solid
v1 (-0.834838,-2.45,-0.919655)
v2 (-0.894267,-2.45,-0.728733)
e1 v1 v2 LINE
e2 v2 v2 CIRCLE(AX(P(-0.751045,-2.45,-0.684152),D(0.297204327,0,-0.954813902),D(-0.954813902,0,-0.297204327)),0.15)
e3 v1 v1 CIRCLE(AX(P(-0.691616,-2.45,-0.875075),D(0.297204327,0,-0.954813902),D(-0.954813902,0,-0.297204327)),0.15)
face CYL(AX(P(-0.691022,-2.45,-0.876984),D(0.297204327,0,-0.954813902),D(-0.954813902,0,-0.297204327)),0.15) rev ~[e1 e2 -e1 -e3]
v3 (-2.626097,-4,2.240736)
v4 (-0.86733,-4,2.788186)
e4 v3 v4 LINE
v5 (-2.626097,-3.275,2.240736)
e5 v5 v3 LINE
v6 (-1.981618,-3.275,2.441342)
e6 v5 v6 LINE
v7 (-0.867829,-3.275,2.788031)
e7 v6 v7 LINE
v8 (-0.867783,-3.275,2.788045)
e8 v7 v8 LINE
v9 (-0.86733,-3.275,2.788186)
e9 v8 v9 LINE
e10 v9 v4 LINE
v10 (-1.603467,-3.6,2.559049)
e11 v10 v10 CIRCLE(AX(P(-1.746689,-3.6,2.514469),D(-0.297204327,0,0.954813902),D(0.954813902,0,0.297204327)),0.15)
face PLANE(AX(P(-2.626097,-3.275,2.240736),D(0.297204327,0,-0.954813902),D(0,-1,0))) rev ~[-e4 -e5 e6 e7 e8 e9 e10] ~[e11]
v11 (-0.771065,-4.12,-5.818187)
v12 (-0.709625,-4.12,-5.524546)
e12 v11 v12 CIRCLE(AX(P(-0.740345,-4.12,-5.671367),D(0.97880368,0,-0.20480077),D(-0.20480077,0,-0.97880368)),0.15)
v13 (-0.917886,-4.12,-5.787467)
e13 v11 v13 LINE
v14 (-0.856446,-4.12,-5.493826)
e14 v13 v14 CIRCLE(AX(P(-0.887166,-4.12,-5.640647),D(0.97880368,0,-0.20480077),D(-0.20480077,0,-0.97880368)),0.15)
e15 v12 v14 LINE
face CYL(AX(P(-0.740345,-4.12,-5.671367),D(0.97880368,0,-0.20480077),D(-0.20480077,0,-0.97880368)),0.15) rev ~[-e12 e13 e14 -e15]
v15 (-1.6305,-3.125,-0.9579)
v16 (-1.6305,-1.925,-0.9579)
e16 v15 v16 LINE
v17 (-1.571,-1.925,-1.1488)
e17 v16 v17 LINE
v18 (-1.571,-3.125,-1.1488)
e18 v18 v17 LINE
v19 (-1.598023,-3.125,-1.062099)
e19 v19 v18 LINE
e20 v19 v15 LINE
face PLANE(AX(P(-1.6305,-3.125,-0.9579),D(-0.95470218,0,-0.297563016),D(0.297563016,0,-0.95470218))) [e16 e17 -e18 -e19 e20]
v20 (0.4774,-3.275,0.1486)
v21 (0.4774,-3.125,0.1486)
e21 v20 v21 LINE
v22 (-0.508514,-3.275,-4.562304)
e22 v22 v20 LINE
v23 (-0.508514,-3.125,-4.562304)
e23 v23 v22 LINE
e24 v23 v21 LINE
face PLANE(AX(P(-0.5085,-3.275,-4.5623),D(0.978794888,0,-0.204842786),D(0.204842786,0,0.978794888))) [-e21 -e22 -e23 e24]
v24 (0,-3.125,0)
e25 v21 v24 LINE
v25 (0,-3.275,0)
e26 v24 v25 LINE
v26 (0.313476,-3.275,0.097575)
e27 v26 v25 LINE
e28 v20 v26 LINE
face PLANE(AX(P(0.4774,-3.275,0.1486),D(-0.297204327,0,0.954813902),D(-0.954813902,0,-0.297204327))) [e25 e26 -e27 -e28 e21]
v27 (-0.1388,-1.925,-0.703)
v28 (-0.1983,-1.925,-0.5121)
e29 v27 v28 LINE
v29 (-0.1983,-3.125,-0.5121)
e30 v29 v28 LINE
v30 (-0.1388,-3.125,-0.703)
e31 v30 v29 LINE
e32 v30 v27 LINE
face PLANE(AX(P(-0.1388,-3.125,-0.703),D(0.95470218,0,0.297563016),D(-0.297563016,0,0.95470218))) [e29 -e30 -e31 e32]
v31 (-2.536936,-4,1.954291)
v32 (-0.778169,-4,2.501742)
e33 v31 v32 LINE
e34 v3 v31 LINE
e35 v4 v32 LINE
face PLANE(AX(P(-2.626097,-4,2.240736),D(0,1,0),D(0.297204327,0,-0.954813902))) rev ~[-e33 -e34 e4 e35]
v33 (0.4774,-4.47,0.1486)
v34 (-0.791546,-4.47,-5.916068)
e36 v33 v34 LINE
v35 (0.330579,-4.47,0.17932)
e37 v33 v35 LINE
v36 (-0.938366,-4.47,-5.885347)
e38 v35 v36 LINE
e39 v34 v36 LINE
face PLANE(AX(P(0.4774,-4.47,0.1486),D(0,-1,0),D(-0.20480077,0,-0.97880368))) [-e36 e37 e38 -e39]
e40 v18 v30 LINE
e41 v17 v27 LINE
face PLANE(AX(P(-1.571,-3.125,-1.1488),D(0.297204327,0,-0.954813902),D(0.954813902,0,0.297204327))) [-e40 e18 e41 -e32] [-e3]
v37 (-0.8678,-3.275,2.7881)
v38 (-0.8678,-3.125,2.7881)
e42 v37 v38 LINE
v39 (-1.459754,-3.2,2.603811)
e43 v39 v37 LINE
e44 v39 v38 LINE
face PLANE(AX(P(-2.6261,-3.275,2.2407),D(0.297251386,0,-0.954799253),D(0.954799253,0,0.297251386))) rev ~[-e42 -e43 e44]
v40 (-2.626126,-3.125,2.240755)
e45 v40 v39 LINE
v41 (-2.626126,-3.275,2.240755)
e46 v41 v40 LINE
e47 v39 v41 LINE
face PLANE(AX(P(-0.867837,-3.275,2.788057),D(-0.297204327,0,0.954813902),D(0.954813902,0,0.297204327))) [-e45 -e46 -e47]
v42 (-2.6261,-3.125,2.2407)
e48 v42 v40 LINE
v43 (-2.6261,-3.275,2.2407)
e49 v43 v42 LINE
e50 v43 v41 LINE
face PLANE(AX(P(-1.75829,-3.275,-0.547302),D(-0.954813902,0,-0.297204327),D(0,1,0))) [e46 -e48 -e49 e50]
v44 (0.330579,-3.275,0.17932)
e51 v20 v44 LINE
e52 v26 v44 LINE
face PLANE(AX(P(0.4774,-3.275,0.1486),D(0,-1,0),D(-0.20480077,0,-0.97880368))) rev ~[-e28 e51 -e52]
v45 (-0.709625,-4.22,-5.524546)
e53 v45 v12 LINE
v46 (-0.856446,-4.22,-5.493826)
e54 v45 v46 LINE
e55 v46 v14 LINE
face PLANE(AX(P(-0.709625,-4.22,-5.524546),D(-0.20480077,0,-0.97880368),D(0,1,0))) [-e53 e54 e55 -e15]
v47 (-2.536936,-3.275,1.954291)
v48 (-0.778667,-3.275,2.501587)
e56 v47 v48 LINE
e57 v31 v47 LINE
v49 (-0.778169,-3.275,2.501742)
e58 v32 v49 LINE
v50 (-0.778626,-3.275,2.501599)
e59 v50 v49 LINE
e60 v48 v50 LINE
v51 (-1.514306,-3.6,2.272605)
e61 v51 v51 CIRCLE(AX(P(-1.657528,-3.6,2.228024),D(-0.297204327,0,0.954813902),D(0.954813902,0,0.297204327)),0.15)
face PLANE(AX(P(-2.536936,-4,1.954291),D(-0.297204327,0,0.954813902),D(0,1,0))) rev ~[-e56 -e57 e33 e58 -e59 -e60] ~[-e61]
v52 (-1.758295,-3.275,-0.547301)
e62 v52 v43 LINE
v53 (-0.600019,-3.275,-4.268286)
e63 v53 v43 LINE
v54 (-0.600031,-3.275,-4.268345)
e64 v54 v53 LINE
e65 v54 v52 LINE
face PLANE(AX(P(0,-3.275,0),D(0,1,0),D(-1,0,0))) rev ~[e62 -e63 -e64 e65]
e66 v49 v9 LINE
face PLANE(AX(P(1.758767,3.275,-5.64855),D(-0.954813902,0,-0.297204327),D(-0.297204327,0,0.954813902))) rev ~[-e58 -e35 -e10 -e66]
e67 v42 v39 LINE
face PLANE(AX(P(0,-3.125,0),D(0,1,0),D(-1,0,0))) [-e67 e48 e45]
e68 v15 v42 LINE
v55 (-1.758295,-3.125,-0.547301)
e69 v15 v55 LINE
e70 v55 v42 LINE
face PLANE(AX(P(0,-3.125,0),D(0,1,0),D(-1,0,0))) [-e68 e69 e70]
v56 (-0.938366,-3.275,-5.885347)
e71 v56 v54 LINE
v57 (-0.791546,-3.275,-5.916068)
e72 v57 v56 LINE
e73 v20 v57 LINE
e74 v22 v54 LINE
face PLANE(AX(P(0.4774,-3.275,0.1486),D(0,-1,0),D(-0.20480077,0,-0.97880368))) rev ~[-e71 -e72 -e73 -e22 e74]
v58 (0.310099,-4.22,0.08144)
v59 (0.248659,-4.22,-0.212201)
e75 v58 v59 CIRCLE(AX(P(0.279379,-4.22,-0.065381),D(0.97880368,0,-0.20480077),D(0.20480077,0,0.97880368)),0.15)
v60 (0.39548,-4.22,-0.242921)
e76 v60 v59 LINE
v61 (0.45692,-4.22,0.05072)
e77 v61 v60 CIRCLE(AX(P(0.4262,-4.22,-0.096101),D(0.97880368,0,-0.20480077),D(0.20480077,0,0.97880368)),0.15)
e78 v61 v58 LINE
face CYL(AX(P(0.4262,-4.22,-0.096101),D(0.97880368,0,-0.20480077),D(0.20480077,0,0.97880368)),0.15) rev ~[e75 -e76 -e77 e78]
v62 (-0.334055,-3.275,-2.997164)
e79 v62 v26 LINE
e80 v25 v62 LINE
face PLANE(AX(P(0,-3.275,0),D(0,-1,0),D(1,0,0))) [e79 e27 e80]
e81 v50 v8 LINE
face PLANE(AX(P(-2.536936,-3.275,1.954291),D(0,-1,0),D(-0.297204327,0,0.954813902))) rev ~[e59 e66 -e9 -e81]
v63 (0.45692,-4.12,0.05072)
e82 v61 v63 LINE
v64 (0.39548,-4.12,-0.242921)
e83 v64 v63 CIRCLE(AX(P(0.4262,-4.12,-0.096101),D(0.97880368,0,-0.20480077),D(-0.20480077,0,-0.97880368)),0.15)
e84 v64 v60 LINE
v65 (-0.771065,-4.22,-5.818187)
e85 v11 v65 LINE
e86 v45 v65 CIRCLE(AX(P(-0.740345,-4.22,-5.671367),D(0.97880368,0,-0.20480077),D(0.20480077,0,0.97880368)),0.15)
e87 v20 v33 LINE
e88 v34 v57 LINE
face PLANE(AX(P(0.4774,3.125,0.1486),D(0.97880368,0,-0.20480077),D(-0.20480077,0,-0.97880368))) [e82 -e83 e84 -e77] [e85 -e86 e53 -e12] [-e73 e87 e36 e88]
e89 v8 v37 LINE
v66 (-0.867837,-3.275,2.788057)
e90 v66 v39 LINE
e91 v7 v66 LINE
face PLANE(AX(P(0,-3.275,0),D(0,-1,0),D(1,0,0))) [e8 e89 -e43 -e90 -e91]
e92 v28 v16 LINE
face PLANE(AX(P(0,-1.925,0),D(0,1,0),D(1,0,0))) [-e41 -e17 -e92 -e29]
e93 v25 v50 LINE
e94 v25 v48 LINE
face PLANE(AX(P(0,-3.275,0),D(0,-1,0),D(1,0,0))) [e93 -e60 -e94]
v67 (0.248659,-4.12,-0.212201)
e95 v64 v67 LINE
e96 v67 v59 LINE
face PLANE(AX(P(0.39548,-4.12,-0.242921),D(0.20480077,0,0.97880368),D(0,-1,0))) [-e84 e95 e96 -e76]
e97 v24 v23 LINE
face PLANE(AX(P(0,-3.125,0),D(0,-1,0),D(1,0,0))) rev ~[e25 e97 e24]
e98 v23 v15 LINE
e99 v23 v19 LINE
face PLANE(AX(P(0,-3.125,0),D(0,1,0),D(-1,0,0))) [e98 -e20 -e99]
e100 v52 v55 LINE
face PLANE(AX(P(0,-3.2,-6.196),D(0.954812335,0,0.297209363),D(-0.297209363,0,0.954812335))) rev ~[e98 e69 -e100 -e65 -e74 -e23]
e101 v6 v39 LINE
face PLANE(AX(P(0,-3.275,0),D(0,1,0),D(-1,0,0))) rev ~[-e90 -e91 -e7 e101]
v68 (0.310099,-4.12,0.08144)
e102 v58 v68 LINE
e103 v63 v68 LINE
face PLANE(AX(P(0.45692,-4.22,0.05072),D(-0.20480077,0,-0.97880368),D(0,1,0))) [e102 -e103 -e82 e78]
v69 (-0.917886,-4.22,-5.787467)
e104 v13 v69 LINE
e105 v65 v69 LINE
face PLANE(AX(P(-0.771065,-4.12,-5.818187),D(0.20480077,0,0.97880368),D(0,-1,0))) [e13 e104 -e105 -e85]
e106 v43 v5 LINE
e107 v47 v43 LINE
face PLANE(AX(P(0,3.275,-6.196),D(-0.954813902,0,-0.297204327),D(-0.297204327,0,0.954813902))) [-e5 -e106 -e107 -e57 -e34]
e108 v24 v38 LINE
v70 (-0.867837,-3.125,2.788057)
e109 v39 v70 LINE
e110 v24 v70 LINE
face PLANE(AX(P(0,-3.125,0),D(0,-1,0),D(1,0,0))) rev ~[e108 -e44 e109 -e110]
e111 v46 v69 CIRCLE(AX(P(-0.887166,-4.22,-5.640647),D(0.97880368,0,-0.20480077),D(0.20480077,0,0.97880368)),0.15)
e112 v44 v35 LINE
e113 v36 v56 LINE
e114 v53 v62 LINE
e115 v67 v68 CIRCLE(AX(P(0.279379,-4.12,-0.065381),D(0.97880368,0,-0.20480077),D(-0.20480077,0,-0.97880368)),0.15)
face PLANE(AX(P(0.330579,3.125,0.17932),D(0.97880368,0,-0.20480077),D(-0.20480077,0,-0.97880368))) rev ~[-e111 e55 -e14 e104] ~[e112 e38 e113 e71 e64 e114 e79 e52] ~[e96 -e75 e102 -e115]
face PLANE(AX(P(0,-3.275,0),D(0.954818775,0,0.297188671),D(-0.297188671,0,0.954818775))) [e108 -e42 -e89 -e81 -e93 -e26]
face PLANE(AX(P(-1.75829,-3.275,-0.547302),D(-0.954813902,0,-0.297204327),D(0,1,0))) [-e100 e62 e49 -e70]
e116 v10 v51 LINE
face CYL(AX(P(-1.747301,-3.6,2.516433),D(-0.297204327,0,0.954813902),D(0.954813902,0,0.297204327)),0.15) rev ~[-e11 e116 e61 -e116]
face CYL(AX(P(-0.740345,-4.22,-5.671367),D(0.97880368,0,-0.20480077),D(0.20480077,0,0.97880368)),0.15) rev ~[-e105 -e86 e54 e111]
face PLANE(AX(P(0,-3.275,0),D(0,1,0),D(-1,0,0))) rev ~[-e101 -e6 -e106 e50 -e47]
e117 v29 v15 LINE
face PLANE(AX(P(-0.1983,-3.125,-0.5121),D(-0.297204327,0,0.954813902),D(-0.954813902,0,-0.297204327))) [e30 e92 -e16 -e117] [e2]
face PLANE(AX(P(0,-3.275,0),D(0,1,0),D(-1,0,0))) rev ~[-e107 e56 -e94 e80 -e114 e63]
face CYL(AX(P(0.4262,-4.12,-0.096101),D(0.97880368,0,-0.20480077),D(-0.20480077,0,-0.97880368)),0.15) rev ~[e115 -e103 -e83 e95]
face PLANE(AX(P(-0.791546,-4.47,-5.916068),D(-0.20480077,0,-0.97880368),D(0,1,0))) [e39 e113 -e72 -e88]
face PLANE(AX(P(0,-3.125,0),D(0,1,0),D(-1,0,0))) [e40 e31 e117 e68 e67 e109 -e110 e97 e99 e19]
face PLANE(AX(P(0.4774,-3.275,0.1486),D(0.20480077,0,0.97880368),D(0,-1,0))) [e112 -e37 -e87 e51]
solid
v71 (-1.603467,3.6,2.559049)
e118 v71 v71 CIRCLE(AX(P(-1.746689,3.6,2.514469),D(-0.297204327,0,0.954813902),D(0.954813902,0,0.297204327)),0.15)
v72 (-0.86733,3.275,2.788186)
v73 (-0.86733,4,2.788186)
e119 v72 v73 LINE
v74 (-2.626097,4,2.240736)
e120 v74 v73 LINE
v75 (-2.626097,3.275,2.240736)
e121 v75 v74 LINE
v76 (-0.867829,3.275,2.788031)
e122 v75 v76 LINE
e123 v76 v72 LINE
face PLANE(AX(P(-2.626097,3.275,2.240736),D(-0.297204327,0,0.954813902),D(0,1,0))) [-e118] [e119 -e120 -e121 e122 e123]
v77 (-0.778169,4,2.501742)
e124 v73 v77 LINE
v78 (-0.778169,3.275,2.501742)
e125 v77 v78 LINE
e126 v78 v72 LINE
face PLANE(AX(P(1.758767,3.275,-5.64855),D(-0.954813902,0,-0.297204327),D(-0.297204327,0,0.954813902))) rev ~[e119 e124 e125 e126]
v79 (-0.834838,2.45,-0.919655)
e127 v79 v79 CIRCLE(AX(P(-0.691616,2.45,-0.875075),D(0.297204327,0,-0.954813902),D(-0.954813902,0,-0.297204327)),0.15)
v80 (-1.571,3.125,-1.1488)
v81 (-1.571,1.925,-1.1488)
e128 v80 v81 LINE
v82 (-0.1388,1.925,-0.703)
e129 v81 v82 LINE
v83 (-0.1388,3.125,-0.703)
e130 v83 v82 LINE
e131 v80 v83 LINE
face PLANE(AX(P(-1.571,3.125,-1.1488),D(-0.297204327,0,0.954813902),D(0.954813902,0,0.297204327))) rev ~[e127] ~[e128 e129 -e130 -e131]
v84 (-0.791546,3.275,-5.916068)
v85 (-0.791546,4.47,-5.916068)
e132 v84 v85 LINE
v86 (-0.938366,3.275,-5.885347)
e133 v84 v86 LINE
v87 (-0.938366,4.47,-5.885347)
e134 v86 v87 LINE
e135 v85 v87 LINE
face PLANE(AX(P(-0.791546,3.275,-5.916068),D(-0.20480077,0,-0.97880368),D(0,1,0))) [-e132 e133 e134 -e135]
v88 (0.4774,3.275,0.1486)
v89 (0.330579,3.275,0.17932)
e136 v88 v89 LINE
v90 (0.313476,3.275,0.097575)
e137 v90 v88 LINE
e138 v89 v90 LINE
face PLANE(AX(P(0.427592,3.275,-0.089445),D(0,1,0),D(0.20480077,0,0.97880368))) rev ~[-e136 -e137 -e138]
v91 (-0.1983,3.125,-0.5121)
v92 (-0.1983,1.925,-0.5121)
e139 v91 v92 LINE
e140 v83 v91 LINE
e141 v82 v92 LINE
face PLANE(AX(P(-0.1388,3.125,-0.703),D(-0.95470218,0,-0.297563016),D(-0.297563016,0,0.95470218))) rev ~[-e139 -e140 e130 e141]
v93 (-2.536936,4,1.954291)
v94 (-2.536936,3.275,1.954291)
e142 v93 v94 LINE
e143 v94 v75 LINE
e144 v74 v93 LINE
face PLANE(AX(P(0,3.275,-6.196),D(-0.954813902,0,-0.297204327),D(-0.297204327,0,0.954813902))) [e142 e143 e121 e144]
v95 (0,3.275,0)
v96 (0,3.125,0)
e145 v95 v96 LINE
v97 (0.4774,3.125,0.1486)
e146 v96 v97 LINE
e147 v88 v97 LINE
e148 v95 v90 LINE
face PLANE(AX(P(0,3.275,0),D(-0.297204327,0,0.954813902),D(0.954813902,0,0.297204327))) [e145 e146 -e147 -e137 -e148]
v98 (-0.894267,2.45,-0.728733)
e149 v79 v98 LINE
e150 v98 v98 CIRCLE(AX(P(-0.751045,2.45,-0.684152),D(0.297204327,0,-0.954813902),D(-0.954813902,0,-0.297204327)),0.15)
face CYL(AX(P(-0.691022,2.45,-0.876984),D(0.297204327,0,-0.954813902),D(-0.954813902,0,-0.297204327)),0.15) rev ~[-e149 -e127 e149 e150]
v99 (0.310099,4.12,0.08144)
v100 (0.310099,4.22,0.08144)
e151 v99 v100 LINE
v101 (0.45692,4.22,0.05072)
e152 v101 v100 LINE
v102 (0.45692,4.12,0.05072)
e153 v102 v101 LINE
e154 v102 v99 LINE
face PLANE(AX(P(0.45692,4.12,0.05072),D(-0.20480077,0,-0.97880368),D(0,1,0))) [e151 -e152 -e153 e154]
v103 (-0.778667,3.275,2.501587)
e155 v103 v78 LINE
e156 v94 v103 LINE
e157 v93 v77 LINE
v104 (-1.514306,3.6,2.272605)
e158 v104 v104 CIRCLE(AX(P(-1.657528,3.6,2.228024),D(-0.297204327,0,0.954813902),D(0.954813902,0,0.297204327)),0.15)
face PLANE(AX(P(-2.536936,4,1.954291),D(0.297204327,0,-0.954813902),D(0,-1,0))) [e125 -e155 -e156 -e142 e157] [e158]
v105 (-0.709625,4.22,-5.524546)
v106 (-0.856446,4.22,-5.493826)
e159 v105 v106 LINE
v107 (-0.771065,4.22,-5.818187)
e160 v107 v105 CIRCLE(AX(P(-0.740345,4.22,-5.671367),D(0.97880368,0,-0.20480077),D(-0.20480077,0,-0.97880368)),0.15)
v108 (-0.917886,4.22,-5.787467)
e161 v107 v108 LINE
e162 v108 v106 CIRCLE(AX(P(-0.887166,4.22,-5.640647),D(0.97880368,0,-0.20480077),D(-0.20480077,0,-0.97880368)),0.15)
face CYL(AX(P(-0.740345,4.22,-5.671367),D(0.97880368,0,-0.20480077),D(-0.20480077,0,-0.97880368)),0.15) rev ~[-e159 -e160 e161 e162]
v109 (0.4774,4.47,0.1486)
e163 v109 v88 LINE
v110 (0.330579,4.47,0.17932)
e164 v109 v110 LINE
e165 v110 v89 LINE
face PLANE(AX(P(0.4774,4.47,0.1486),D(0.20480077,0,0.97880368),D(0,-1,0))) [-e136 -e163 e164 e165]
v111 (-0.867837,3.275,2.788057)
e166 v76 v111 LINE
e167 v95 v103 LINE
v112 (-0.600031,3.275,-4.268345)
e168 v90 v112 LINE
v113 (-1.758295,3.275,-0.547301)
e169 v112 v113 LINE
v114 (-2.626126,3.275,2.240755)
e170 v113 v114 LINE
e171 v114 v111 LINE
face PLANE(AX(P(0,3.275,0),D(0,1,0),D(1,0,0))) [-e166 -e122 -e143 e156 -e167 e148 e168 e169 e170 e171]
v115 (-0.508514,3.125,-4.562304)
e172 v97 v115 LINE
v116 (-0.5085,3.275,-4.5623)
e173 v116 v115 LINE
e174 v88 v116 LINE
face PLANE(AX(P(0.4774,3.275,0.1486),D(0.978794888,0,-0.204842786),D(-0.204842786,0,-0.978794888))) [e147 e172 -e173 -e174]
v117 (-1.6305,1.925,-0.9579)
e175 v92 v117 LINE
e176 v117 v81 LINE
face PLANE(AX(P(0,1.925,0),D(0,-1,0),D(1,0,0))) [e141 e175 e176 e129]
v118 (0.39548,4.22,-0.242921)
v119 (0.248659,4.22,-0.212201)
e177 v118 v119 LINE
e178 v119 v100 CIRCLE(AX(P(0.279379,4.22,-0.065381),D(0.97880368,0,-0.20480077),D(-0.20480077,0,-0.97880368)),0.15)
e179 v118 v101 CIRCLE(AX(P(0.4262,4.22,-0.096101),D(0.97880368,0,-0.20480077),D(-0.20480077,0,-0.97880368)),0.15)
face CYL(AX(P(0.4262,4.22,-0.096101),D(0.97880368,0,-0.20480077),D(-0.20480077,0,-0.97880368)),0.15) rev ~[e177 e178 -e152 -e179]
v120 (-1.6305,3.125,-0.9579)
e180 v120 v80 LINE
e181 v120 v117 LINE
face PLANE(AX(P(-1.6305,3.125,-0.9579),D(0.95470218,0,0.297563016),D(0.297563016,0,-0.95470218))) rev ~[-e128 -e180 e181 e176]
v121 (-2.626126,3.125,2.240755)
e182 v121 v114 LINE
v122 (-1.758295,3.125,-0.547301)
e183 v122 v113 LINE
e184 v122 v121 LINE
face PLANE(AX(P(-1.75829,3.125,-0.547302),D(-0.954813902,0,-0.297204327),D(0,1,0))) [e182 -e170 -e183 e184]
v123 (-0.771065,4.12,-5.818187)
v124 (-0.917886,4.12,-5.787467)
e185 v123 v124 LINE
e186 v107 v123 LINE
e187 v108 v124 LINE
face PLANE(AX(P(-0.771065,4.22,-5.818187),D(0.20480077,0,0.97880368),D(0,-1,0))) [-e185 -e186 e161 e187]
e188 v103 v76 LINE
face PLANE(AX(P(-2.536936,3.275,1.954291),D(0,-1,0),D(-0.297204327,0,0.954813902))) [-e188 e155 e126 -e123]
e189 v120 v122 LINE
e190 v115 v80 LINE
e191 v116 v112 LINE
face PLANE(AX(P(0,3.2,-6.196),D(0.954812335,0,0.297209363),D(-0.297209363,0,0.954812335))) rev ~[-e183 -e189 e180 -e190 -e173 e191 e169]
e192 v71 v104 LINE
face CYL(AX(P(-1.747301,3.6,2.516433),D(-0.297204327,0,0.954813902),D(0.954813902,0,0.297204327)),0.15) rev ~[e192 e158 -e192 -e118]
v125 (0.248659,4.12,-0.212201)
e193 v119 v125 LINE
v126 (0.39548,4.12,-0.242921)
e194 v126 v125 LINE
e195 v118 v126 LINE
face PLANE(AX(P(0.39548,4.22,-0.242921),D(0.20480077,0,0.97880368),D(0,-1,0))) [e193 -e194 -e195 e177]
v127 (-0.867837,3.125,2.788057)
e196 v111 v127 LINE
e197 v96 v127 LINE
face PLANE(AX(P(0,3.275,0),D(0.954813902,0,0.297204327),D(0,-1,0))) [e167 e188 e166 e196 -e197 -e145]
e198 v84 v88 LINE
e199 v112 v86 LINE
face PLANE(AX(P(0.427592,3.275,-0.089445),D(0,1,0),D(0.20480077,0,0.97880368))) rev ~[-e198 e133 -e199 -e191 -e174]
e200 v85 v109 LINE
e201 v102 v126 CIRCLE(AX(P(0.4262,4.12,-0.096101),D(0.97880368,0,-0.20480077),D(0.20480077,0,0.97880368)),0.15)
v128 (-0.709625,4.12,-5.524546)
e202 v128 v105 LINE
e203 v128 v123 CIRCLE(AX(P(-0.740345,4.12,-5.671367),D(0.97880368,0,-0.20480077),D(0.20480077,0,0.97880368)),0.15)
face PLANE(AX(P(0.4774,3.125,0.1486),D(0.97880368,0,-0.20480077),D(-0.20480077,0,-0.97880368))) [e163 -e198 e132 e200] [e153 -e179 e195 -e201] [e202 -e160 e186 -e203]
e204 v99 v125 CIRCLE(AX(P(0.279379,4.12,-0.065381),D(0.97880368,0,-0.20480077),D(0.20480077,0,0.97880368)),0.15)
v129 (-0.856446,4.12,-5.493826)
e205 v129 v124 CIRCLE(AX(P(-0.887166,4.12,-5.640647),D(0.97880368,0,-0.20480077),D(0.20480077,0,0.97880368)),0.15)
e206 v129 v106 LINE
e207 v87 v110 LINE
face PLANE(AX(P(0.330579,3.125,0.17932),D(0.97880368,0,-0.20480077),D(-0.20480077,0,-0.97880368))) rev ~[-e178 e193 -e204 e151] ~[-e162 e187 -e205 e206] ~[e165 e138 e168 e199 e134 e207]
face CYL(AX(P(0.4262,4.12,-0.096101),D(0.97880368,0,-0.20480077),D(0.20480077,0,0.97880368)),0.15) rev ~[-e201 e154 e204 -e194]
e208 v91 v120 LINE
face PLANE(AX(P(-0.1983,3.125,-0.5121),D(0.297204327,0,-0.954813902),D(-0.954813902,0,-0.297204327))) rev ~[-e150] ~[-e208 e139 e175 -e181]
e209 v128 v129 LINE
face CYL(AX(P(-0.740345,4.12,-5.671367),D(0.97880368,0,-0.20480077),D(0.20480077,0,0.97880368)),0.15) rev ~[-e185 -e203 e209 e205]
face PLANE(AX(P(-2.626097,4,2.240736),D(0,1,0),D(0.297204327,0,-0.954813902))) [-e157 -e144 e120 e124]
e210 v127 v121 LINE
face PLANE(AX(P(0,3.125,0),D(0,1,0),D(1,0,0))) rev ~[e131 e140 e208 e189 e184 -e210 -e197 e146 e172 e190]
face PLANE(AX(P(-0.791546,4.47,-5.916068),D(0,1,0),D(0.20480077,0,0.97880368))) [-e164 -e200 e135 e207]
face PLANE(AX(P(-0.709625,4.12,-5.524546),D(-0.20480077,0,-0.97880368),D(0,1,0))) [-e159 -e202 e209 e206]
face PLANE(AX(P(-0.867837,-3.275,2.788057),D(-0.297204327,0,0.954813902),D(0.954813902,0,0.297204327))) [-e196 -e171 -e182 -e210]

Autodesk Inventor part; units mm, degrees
ref_plane "Plano de trabajo1" through (0, 3.2, 0) normal (0, 1, 0) x (-1, 0, 0)
ref_plane "Plano de trabajo2" through (0, -3.2, 0) normal (0, 1, 0) x (-1, 0, 0)
sketch "Boceto3" plane through (0, 3.2, 0) normal (0, 1, 0) x (-1, 0, 0)
  line L0 (0, -6.196) -> (0, 0) projected
  line L1 (0, -6.196) -> (1.7583, -0.5473) projected
  line L2 (1.7583, -0.5473) -> (0, 0) projected
sketch "Boceto4" plane through (0, -3.2, 0) normal (0, 1, 0) x (-1, 0, 0)
  line L0 (0, -6.196) -> (0, 0) projected
  line L1 (0, -6.196) -> (1.7583, -0.5473) projected
  line L2 (1.7583, -0.5473) -> (0, 0) projected
extrude "Extrusión3" add sketch "Boceto4" along normal mid plane 0.15
extrude "Extrusión4" add sketch "Boceto3" along normal mid plane 0.15
ref_plane "Plano de trabajo3" through (0, -3.275, 0) normal (-0.2972, 0, 0.9548) x (0.9548, 0, 0.2972)
sketch "Boceto7" plane through (0, -3.275, 0) normal (-0.2972, 0, 0.9548) x (0.9548, 0, 0.2972)
  line L0 (-1.8415, 0.15) -> (0, 0.15) projected
  line L1 (-1.8415, 0) -> (-1.8415, 0.15) projected
  line L2 (0, 0) -> (-1.8415, 0) projected
  line L3 (-1.8415, 6.55) -> (0, 6.55) projected
  line L4 (-1.8415, 6.4) -> (-1.8415, 6.55) projected
  line L5 (0, 6.4) -> (-1.8415, 6.4) projected
  line L6 (0, 0.15) -> (0, 0) projected
  line L7 (0, 6.55) -> (0, 6.4) projected
  point P0 (0, 3.275)
extrude "Extrusión7" add sketch "Boceto7" along normal blind 2.92
sketch "Boceto8" plane through (0, 3.275, -6.196) normal (-0.9548, 0, -0.2972) x (-0.2972, 0, 0.9548)
  line L0 (0, -6.4) -> (8.836, -6.4) projected
  line L1 (0, -6.55) -> (8.836, -6.55) projected
  line L2 (0, 0) -> (8.836, 0) projected
  line L3 (0, -0.15) -> (8.836, -0.15) projected
  line L4 (8.836, -6.55) -> (8.836, -7.275)
  line L5 (8.836, -7.275) -> (8.536, -7.275)
  line L6 (8.536, -7.275) -> (8.536, -6.55)
  line L7 (5.916, -6.55) -> (8.836, -6.55) projected
  line L8 (8.836, -6.55) -> (8.536, -6.55)
  line L9 (8.916, -0.15) -> (8.916, 0) projected
  line L10 (8.836, 0) -> (8.836, 0.725)
  line L11 (8.836, 0.725) -> (8.536, 0.725)
  line L12 (8.536, 0.725) -> (8.536, 0)
  line L13 (8.536, 0) -> (8.836, 0)
  line L14 (0, -0.15) -> (0, 0) projected
  line L15 (0, -6.55) -> (0, -6.4) projected
  line L16 (8.836, 0) -> (8.836, -0.15) projected
  line L17 (8.836, -6.4) -> (8.836, -6.55) projected
  point P0 (5.916, -3.275)
  dimension "d19" = 0.725
  dimension "d20" = 0.3
  dimension "d21" = 0.725
  dimension "d22" = 0.3
extrude "Extrusión8" add sketch "Boceto8" against normal blind 1.842 contours L4 L5 L6 L1 | L12 L11 L10 L2
sketch "Boceto9" plane through (-0.8678, -3.275, 2.7881) normal (-0.2972, 0, 0.9548) x (0.9548, 0, 0.2972)
  line L0 (0, 0.15) -> (-1.8415, 0.15) projected
  line L1 (-1.8415, 0.15) -> (-1.8415, -0.725) projected
  line L2 (-1.8415, -0.725) -> (0.0005, -0.725) projected
  line L3 (0.0005, 0) -> (0.0005, -0.725) projected
  line L4 (0, 0) -> (0.0005, 0) projected
  line L5 (0, 6.55) -> (0.0005, 6.55) projected
  line L6 (0.0005, 7.275) -> (0.0005, 6.55) projected
  line L7 (-1.8415, 7.275) -> (0.0005, 7.275) projected
  line L8 (-1.8415, 6.4) -> (-1.8415, 7.275) projected
  line L9 (-1.8415, 6.4) -> (0, 6.4) projected
  circle A0 centre (-0.9205, -0.325) radius 0.15
  circle A1 centre (-0.9205, 6.875) radius 0.15
  line L10 (0, 6.4) -> (0, 6.55) projected
  line L11 (0, 0) -> (0, 0.15) projected
  point P0 (0, 3.275)
  dimension "d27" = 0.3
  dimension "d28" = 0.3
extrude "Extrusión9" cut sketch "Boceto9" against normal blind 1.842 contours A0 | A1
ref_plane "Plano de trabajo5" through (0, 1.925, -0.8902) normal (0.2972, 0, -0.9548) x (-0.9548, 0, -0.2972)
sketch "Boceto12" plane through (0, 1.925, -0.8902) normal (0.2972, 0, -0.9548) x (-0.9548, 0, -0.2972)
  line L0 (3.1538, -5.05) -> (3.1538, -3.85) projected
  line L1 (1.5769, -3.85) -> (3.1538, -3.85) projected
  line L2 (1.5769, -5.05) -> (1.5769, -3.85) projected
  line L3 (1.5769, 1.2) -> (1.5769, 0) projected
  line L4 (3.1538, 0) -> (1.5769, 0) projected
  line L5 (3.1538, 1.2) -> (3.1538, 0) projected
  line L6 (1.5769, -3.85) -> (3.1538, -3.85) projected
  circle A0 centre (0.6559, -5.525) radius 0.15 projected
  circle A1 centre (0.6559, 0.525) radius 0.15
  circle A2 centre (0.6559, -4.375) radius 0.15
  line L7 (3.1538, 1.2) -> (1.5769, 1.2) projected
  line L8 (1.5769, -5.05) -> (3.1538, -5.05) projected
  point P0 (-0.2646, -1.925)
  dimension "d41" = 0.3
  dimension "d42" = 0.3
extrude "Extrusión12" cut sketch "Boceto12" against normal blind 1.2 contours A1 | A2
ref_plane "Plano de trabajo4" through (-0.1783, -3.125, -0.4137) normal (-0.2972, 0, 0.9548) x (0.9548, 0, 0.2972)
sketch "Boceto13" plane through (-0.1783, -3.125, -0.4137) normal (-0.2972, 0, 0.9548) x (0.9548, 0, 0.2972)
  circle A0 centre (0.6273, -0.475) radius 0.15 projected
  circle A1 centre (0.6273, 6.725) radius 0.15 projected
  line L0 (0.6273, 6.725) -> (0.6273, -0.475)
  circle A2 centre (0.6273, 0.675) radius 0.15
  circle A3 centre (0.6273, 5.575) radius 0.15
  point P0 (-0.2932, 3.125)
  dimension "d50" = 0.3
  dimension "d51" = 0.3
extrude "Extrusión13" cut sketch "Boceto13" against normal blind 10 contours A3 L0 | L0 A3 | A2 L0 | L0 A2
sketch "Boceto14" plane through (0, 3.275, 0) normal (0, 1, 0) x (1, 0, 0)
  line L0 (-2.537, -1.9543) -> (-2.6261, -2.2407) projected
  line L1 (-2.537, -1.9543) -> (-0.3978, -2.6202)
  line L2 (0, 0) -> (2.1391, -0.6659)
  line L3 (0, 0) -> (0, 6.196) projected
  line L4 (0, 0) -> (0.4774, -0.1486)
  line L5 (0, 0) -> (-0.2806, 5.2944)
  line L6 (0, 6.196) -> (-2.6261, -2.2407) projected
  line L7 (-0.2806, 5.2944) -> (0, 6.196)
  line L8 (0, 6.196) -> (0, 0)
  line L9 (0, 0) -> (-0.7787, -2.5016) projected
  line L10 (-0.2806, 5.2944) -> (0, 0)
  line L11 (0, 0) -> (-0.3893, 4.9452)
  line L12 (-0.3893, 4.9452) -> (0, 6.196)
  line L13 (-0.2806, 5.2944) -> (-0.3893, 4.9452)
  line L14 (0, 0) -> (-0.5085, 4.5623)
  line L15 (0, 6.196) -> (-2.537, -1.9543) projected
  line L16 (-0.3893, 4.9452) -> (-0.5085, 4.5623)
  point P0 (-1.5675, 1.1603)
  dimension "d54" = 0.5
extrude "Extrusión14" cut sketch "Boceto14" against normal blind 10 contours L6 L11 L14 | L5 L6 L3 | L11 L6 L5
sketch "Boceto15" plane through (0, 3.275, 0) normal (0, 1, 0) x (1, 0, 0)
  line L0 (-0.0139, -0.0029) -> (2.134, -0.6398)
  line L1 (0, 0) -> (0.4774, -0.1486)
  line L2 (0, 0) -> (-0.7787, -2.5016)
  line L3 (0.4774, -0.1486) -> (-0.0139, -0.0029)
  line L4 (0, 0) -> (-0.7787, -2.5016) projected
  line L5 (0, 0) -> (0.4774, -0.1486)
  line L6 (0, 0) -> (-0.5085, 4.5623) projected
  line L7 (-0.5085, 4.5623) -> (0, 0) projected
  line L8 (0.4774, -0.1486) -> (-0.5085, 4.5623)
  line L9 (-0.5085, 4.5623) -> (0, 0)
  line L10 (-0.0139, -0.0029) -> (0.4774, -0.1486)
  line L11 (0.4774, -0.1486) -> (-0.5085, 4.5623)
  line L12 (-0.539, 4.708) -> (-0.0139, -0.0029)
  dimension "d57" = 0.5
extrude "Extrusión15" add sketch "Boceto15" against normal blind 0.15 contours L1 L6 L8
sketch "Boceto16" plane through (0, -3.275, 0) normal (0, -1, 0) x (1, 0, 0)
  line L0 (0, 0) -> (-0.8678, 2.7881) projected
  line L1 (-2.6261, 2.2407) -> (-0.8678, 2.7881) projected
  line L2 (-0.5085, -4.5623) -> (-2.6261, 2.2407) projected
  line L3 (-0.5085, -4.5623) -> (0.4774, 0.1486) projected
  line L4 (0.4774, 0.1486) -> (0, 0) projected
extrude "Extrusión16" add sketch "Boceto16" against normal blind 0.15
sketch "Boceto17" plane through (0, 3.125, 0) normal (0, -1, 0) x (1, 0, 0)
  line L0 (-2.6261, 2.2407) -> (-2.537, 1.9543) projected
  line L1 (-1.571, -1.1488) -> (-0.1388, -0.703)
  line L2 (-0.1388, -0.703) -> (-0.1983, -0.5121)
  line L3 (-0.1983, -0.5121) -> (-1.6305, -0.9579)
  line L4 (-1.6305, -0.9579) -> (-1.571, -1.1488)
  line L5 (-0.5085, -4.5623) -> (-2.537, 1.9543) projected
  line L6 (-1.571, -1.1488) -> (-0.1388, -0.703)
  line L7 (-0.1388, -0.703) -> (-0.1983, -0.5121)
  line L8 (-0.1983, -0.5121) -> (-1.6305, -0.9579)
  point P0 (0, 0)
  point P1 (-0.2806, -5.2944)
  point P2 (-0.3893, -4.9452)
  dimension "d62" = 3.55
  dimension "d63" = 1.5
  dimension "d64" = 0.2
extrude "Extrusión17" add sketch "Boceto17" along normal blind 1.2
sketch "Boceto18" plane through (0, -3.125, 0) normal (0, 1, 0) x (1, 0, 0)
  line L0 (-1.571, 1.1488) -> (-0.1388, 0.703) projected
  line L1 (-0.1388, 0.703) -> (-0.1983, 0.5121) projected
  line L2 (-0.1983, 0.5121) -> (-1.6305, 0.9579) projected
  line L3 (-1.6305, 0.9579) -> (-1.571, 1.1488) projected
  point P0 (0, 0)
extrude "Extrusión18" add sketch "Boceto18" along normal blind 1.2
sketch "Boceto19" plane through (-1.571, -3.125, -1.1488) normal (0.2972, 0, -0.9548) x (-0.9548, 0, -0.2972)
  circle A0 centre (-0.921, 6.725) radius 0.15 projected
  circle A1 centre (-0.921, -0.475) radius 0.15 projected
  circle A2 centre (-0.921, 5.575) radius 0.15
  circle A3 centre (-0.921, 0.675) radius 0.15
  point P0 (-1.8415, 3.125)
  dimension "d70" = 0.3
  dimension "d71" = 0.3
extrude "Extrusión19" cut sketch "Boceto19" against normal blind 1.2 contours A2 | A3
sketch "Boceto21" plane through (0.4774, 3.125, 0.1486) normal (0.9788, 0, -0.2048) x (-0.2048, 0, -0.9788)
  line L0 (0.2432, 0.15) -> (0, 0.15) projected
  arc A0 (6.096, -7.245) -> (5.796, -7.245) centre (5.946, -7.245) ccw
  line L1 (6.096, -7.245) -> (6.096, -7.345)
  arc A1 (5.796, -7.345) -> (6.096, -7.345) centre (5.946, -7.345) ccw
  line L2 (0, -7.595) -> (6.196, -7.595)
  line L3 (5.796, -7.345) -> (5.796, -7.245)
  arc A2 (0.4, -7.245) -> (0.1, -7.245) centre (0.25, -7.245) ccw
  line L4 (0.4, -7.245) -> (0.4, -7.345)
  arc A3 (0.1, -7.345) -> (0.4, -7.345) centre (0.25, -7.345) ccw
  line L5 (0.1, -7.345) -> (0.1, -7.245)
  line L6 (0.4, 1.095) -> (0.4, 0.995)
  line L7 (0.1, 0.995) -> (0.1, 1.095)
  arc A4 (0.4, 1.095) -> (0.1, 1.095) centre (0.25, 1.095) ccw
  arc A5 (5.796, 0.995) -> (6.096, 0.995) centre (5.946, 0.995) ccw
  line L8 (6.096, 1.095) -> (6.096, 0.995)
  arc A6 (6.096, 1.095) -> (5.796, 1.095) centre (5.946, 1.095) ccw
  line L9 (6.196, 1.345) -> (0, 1.345)
  arc A7 (0.1, 0.995) -> (0.4, 0.995) centre (0.25, 0.995) ccw
  line L10 (5.796, 0.995) -> (5.796, 1.095)
  line L11 (0, 0.15) -> (4.813, 0.15) projected
  line L12 (0, -6.4) -> (4.813, -6.4) projected
  line L13 (0, 0.15) -> (6.196, 0.15)
  line L14 (0, -6.4) -> (6.196, -6.4)
  line L15 (6.196, -7.595) -> (6.196, -6.4)
  line L16 (6.196, 0.15) -> (6.196, 1.345)
  line L17 (0, 1.345) -> (0, 0.15)
  line L18 (0, -6.4) -> (0, -7.595)
  point P0 (0, 1.345)
extrude "Extrusión21" add sketch "Boceto21" against normal blind 0.15
properties part number "soportePantalla"
